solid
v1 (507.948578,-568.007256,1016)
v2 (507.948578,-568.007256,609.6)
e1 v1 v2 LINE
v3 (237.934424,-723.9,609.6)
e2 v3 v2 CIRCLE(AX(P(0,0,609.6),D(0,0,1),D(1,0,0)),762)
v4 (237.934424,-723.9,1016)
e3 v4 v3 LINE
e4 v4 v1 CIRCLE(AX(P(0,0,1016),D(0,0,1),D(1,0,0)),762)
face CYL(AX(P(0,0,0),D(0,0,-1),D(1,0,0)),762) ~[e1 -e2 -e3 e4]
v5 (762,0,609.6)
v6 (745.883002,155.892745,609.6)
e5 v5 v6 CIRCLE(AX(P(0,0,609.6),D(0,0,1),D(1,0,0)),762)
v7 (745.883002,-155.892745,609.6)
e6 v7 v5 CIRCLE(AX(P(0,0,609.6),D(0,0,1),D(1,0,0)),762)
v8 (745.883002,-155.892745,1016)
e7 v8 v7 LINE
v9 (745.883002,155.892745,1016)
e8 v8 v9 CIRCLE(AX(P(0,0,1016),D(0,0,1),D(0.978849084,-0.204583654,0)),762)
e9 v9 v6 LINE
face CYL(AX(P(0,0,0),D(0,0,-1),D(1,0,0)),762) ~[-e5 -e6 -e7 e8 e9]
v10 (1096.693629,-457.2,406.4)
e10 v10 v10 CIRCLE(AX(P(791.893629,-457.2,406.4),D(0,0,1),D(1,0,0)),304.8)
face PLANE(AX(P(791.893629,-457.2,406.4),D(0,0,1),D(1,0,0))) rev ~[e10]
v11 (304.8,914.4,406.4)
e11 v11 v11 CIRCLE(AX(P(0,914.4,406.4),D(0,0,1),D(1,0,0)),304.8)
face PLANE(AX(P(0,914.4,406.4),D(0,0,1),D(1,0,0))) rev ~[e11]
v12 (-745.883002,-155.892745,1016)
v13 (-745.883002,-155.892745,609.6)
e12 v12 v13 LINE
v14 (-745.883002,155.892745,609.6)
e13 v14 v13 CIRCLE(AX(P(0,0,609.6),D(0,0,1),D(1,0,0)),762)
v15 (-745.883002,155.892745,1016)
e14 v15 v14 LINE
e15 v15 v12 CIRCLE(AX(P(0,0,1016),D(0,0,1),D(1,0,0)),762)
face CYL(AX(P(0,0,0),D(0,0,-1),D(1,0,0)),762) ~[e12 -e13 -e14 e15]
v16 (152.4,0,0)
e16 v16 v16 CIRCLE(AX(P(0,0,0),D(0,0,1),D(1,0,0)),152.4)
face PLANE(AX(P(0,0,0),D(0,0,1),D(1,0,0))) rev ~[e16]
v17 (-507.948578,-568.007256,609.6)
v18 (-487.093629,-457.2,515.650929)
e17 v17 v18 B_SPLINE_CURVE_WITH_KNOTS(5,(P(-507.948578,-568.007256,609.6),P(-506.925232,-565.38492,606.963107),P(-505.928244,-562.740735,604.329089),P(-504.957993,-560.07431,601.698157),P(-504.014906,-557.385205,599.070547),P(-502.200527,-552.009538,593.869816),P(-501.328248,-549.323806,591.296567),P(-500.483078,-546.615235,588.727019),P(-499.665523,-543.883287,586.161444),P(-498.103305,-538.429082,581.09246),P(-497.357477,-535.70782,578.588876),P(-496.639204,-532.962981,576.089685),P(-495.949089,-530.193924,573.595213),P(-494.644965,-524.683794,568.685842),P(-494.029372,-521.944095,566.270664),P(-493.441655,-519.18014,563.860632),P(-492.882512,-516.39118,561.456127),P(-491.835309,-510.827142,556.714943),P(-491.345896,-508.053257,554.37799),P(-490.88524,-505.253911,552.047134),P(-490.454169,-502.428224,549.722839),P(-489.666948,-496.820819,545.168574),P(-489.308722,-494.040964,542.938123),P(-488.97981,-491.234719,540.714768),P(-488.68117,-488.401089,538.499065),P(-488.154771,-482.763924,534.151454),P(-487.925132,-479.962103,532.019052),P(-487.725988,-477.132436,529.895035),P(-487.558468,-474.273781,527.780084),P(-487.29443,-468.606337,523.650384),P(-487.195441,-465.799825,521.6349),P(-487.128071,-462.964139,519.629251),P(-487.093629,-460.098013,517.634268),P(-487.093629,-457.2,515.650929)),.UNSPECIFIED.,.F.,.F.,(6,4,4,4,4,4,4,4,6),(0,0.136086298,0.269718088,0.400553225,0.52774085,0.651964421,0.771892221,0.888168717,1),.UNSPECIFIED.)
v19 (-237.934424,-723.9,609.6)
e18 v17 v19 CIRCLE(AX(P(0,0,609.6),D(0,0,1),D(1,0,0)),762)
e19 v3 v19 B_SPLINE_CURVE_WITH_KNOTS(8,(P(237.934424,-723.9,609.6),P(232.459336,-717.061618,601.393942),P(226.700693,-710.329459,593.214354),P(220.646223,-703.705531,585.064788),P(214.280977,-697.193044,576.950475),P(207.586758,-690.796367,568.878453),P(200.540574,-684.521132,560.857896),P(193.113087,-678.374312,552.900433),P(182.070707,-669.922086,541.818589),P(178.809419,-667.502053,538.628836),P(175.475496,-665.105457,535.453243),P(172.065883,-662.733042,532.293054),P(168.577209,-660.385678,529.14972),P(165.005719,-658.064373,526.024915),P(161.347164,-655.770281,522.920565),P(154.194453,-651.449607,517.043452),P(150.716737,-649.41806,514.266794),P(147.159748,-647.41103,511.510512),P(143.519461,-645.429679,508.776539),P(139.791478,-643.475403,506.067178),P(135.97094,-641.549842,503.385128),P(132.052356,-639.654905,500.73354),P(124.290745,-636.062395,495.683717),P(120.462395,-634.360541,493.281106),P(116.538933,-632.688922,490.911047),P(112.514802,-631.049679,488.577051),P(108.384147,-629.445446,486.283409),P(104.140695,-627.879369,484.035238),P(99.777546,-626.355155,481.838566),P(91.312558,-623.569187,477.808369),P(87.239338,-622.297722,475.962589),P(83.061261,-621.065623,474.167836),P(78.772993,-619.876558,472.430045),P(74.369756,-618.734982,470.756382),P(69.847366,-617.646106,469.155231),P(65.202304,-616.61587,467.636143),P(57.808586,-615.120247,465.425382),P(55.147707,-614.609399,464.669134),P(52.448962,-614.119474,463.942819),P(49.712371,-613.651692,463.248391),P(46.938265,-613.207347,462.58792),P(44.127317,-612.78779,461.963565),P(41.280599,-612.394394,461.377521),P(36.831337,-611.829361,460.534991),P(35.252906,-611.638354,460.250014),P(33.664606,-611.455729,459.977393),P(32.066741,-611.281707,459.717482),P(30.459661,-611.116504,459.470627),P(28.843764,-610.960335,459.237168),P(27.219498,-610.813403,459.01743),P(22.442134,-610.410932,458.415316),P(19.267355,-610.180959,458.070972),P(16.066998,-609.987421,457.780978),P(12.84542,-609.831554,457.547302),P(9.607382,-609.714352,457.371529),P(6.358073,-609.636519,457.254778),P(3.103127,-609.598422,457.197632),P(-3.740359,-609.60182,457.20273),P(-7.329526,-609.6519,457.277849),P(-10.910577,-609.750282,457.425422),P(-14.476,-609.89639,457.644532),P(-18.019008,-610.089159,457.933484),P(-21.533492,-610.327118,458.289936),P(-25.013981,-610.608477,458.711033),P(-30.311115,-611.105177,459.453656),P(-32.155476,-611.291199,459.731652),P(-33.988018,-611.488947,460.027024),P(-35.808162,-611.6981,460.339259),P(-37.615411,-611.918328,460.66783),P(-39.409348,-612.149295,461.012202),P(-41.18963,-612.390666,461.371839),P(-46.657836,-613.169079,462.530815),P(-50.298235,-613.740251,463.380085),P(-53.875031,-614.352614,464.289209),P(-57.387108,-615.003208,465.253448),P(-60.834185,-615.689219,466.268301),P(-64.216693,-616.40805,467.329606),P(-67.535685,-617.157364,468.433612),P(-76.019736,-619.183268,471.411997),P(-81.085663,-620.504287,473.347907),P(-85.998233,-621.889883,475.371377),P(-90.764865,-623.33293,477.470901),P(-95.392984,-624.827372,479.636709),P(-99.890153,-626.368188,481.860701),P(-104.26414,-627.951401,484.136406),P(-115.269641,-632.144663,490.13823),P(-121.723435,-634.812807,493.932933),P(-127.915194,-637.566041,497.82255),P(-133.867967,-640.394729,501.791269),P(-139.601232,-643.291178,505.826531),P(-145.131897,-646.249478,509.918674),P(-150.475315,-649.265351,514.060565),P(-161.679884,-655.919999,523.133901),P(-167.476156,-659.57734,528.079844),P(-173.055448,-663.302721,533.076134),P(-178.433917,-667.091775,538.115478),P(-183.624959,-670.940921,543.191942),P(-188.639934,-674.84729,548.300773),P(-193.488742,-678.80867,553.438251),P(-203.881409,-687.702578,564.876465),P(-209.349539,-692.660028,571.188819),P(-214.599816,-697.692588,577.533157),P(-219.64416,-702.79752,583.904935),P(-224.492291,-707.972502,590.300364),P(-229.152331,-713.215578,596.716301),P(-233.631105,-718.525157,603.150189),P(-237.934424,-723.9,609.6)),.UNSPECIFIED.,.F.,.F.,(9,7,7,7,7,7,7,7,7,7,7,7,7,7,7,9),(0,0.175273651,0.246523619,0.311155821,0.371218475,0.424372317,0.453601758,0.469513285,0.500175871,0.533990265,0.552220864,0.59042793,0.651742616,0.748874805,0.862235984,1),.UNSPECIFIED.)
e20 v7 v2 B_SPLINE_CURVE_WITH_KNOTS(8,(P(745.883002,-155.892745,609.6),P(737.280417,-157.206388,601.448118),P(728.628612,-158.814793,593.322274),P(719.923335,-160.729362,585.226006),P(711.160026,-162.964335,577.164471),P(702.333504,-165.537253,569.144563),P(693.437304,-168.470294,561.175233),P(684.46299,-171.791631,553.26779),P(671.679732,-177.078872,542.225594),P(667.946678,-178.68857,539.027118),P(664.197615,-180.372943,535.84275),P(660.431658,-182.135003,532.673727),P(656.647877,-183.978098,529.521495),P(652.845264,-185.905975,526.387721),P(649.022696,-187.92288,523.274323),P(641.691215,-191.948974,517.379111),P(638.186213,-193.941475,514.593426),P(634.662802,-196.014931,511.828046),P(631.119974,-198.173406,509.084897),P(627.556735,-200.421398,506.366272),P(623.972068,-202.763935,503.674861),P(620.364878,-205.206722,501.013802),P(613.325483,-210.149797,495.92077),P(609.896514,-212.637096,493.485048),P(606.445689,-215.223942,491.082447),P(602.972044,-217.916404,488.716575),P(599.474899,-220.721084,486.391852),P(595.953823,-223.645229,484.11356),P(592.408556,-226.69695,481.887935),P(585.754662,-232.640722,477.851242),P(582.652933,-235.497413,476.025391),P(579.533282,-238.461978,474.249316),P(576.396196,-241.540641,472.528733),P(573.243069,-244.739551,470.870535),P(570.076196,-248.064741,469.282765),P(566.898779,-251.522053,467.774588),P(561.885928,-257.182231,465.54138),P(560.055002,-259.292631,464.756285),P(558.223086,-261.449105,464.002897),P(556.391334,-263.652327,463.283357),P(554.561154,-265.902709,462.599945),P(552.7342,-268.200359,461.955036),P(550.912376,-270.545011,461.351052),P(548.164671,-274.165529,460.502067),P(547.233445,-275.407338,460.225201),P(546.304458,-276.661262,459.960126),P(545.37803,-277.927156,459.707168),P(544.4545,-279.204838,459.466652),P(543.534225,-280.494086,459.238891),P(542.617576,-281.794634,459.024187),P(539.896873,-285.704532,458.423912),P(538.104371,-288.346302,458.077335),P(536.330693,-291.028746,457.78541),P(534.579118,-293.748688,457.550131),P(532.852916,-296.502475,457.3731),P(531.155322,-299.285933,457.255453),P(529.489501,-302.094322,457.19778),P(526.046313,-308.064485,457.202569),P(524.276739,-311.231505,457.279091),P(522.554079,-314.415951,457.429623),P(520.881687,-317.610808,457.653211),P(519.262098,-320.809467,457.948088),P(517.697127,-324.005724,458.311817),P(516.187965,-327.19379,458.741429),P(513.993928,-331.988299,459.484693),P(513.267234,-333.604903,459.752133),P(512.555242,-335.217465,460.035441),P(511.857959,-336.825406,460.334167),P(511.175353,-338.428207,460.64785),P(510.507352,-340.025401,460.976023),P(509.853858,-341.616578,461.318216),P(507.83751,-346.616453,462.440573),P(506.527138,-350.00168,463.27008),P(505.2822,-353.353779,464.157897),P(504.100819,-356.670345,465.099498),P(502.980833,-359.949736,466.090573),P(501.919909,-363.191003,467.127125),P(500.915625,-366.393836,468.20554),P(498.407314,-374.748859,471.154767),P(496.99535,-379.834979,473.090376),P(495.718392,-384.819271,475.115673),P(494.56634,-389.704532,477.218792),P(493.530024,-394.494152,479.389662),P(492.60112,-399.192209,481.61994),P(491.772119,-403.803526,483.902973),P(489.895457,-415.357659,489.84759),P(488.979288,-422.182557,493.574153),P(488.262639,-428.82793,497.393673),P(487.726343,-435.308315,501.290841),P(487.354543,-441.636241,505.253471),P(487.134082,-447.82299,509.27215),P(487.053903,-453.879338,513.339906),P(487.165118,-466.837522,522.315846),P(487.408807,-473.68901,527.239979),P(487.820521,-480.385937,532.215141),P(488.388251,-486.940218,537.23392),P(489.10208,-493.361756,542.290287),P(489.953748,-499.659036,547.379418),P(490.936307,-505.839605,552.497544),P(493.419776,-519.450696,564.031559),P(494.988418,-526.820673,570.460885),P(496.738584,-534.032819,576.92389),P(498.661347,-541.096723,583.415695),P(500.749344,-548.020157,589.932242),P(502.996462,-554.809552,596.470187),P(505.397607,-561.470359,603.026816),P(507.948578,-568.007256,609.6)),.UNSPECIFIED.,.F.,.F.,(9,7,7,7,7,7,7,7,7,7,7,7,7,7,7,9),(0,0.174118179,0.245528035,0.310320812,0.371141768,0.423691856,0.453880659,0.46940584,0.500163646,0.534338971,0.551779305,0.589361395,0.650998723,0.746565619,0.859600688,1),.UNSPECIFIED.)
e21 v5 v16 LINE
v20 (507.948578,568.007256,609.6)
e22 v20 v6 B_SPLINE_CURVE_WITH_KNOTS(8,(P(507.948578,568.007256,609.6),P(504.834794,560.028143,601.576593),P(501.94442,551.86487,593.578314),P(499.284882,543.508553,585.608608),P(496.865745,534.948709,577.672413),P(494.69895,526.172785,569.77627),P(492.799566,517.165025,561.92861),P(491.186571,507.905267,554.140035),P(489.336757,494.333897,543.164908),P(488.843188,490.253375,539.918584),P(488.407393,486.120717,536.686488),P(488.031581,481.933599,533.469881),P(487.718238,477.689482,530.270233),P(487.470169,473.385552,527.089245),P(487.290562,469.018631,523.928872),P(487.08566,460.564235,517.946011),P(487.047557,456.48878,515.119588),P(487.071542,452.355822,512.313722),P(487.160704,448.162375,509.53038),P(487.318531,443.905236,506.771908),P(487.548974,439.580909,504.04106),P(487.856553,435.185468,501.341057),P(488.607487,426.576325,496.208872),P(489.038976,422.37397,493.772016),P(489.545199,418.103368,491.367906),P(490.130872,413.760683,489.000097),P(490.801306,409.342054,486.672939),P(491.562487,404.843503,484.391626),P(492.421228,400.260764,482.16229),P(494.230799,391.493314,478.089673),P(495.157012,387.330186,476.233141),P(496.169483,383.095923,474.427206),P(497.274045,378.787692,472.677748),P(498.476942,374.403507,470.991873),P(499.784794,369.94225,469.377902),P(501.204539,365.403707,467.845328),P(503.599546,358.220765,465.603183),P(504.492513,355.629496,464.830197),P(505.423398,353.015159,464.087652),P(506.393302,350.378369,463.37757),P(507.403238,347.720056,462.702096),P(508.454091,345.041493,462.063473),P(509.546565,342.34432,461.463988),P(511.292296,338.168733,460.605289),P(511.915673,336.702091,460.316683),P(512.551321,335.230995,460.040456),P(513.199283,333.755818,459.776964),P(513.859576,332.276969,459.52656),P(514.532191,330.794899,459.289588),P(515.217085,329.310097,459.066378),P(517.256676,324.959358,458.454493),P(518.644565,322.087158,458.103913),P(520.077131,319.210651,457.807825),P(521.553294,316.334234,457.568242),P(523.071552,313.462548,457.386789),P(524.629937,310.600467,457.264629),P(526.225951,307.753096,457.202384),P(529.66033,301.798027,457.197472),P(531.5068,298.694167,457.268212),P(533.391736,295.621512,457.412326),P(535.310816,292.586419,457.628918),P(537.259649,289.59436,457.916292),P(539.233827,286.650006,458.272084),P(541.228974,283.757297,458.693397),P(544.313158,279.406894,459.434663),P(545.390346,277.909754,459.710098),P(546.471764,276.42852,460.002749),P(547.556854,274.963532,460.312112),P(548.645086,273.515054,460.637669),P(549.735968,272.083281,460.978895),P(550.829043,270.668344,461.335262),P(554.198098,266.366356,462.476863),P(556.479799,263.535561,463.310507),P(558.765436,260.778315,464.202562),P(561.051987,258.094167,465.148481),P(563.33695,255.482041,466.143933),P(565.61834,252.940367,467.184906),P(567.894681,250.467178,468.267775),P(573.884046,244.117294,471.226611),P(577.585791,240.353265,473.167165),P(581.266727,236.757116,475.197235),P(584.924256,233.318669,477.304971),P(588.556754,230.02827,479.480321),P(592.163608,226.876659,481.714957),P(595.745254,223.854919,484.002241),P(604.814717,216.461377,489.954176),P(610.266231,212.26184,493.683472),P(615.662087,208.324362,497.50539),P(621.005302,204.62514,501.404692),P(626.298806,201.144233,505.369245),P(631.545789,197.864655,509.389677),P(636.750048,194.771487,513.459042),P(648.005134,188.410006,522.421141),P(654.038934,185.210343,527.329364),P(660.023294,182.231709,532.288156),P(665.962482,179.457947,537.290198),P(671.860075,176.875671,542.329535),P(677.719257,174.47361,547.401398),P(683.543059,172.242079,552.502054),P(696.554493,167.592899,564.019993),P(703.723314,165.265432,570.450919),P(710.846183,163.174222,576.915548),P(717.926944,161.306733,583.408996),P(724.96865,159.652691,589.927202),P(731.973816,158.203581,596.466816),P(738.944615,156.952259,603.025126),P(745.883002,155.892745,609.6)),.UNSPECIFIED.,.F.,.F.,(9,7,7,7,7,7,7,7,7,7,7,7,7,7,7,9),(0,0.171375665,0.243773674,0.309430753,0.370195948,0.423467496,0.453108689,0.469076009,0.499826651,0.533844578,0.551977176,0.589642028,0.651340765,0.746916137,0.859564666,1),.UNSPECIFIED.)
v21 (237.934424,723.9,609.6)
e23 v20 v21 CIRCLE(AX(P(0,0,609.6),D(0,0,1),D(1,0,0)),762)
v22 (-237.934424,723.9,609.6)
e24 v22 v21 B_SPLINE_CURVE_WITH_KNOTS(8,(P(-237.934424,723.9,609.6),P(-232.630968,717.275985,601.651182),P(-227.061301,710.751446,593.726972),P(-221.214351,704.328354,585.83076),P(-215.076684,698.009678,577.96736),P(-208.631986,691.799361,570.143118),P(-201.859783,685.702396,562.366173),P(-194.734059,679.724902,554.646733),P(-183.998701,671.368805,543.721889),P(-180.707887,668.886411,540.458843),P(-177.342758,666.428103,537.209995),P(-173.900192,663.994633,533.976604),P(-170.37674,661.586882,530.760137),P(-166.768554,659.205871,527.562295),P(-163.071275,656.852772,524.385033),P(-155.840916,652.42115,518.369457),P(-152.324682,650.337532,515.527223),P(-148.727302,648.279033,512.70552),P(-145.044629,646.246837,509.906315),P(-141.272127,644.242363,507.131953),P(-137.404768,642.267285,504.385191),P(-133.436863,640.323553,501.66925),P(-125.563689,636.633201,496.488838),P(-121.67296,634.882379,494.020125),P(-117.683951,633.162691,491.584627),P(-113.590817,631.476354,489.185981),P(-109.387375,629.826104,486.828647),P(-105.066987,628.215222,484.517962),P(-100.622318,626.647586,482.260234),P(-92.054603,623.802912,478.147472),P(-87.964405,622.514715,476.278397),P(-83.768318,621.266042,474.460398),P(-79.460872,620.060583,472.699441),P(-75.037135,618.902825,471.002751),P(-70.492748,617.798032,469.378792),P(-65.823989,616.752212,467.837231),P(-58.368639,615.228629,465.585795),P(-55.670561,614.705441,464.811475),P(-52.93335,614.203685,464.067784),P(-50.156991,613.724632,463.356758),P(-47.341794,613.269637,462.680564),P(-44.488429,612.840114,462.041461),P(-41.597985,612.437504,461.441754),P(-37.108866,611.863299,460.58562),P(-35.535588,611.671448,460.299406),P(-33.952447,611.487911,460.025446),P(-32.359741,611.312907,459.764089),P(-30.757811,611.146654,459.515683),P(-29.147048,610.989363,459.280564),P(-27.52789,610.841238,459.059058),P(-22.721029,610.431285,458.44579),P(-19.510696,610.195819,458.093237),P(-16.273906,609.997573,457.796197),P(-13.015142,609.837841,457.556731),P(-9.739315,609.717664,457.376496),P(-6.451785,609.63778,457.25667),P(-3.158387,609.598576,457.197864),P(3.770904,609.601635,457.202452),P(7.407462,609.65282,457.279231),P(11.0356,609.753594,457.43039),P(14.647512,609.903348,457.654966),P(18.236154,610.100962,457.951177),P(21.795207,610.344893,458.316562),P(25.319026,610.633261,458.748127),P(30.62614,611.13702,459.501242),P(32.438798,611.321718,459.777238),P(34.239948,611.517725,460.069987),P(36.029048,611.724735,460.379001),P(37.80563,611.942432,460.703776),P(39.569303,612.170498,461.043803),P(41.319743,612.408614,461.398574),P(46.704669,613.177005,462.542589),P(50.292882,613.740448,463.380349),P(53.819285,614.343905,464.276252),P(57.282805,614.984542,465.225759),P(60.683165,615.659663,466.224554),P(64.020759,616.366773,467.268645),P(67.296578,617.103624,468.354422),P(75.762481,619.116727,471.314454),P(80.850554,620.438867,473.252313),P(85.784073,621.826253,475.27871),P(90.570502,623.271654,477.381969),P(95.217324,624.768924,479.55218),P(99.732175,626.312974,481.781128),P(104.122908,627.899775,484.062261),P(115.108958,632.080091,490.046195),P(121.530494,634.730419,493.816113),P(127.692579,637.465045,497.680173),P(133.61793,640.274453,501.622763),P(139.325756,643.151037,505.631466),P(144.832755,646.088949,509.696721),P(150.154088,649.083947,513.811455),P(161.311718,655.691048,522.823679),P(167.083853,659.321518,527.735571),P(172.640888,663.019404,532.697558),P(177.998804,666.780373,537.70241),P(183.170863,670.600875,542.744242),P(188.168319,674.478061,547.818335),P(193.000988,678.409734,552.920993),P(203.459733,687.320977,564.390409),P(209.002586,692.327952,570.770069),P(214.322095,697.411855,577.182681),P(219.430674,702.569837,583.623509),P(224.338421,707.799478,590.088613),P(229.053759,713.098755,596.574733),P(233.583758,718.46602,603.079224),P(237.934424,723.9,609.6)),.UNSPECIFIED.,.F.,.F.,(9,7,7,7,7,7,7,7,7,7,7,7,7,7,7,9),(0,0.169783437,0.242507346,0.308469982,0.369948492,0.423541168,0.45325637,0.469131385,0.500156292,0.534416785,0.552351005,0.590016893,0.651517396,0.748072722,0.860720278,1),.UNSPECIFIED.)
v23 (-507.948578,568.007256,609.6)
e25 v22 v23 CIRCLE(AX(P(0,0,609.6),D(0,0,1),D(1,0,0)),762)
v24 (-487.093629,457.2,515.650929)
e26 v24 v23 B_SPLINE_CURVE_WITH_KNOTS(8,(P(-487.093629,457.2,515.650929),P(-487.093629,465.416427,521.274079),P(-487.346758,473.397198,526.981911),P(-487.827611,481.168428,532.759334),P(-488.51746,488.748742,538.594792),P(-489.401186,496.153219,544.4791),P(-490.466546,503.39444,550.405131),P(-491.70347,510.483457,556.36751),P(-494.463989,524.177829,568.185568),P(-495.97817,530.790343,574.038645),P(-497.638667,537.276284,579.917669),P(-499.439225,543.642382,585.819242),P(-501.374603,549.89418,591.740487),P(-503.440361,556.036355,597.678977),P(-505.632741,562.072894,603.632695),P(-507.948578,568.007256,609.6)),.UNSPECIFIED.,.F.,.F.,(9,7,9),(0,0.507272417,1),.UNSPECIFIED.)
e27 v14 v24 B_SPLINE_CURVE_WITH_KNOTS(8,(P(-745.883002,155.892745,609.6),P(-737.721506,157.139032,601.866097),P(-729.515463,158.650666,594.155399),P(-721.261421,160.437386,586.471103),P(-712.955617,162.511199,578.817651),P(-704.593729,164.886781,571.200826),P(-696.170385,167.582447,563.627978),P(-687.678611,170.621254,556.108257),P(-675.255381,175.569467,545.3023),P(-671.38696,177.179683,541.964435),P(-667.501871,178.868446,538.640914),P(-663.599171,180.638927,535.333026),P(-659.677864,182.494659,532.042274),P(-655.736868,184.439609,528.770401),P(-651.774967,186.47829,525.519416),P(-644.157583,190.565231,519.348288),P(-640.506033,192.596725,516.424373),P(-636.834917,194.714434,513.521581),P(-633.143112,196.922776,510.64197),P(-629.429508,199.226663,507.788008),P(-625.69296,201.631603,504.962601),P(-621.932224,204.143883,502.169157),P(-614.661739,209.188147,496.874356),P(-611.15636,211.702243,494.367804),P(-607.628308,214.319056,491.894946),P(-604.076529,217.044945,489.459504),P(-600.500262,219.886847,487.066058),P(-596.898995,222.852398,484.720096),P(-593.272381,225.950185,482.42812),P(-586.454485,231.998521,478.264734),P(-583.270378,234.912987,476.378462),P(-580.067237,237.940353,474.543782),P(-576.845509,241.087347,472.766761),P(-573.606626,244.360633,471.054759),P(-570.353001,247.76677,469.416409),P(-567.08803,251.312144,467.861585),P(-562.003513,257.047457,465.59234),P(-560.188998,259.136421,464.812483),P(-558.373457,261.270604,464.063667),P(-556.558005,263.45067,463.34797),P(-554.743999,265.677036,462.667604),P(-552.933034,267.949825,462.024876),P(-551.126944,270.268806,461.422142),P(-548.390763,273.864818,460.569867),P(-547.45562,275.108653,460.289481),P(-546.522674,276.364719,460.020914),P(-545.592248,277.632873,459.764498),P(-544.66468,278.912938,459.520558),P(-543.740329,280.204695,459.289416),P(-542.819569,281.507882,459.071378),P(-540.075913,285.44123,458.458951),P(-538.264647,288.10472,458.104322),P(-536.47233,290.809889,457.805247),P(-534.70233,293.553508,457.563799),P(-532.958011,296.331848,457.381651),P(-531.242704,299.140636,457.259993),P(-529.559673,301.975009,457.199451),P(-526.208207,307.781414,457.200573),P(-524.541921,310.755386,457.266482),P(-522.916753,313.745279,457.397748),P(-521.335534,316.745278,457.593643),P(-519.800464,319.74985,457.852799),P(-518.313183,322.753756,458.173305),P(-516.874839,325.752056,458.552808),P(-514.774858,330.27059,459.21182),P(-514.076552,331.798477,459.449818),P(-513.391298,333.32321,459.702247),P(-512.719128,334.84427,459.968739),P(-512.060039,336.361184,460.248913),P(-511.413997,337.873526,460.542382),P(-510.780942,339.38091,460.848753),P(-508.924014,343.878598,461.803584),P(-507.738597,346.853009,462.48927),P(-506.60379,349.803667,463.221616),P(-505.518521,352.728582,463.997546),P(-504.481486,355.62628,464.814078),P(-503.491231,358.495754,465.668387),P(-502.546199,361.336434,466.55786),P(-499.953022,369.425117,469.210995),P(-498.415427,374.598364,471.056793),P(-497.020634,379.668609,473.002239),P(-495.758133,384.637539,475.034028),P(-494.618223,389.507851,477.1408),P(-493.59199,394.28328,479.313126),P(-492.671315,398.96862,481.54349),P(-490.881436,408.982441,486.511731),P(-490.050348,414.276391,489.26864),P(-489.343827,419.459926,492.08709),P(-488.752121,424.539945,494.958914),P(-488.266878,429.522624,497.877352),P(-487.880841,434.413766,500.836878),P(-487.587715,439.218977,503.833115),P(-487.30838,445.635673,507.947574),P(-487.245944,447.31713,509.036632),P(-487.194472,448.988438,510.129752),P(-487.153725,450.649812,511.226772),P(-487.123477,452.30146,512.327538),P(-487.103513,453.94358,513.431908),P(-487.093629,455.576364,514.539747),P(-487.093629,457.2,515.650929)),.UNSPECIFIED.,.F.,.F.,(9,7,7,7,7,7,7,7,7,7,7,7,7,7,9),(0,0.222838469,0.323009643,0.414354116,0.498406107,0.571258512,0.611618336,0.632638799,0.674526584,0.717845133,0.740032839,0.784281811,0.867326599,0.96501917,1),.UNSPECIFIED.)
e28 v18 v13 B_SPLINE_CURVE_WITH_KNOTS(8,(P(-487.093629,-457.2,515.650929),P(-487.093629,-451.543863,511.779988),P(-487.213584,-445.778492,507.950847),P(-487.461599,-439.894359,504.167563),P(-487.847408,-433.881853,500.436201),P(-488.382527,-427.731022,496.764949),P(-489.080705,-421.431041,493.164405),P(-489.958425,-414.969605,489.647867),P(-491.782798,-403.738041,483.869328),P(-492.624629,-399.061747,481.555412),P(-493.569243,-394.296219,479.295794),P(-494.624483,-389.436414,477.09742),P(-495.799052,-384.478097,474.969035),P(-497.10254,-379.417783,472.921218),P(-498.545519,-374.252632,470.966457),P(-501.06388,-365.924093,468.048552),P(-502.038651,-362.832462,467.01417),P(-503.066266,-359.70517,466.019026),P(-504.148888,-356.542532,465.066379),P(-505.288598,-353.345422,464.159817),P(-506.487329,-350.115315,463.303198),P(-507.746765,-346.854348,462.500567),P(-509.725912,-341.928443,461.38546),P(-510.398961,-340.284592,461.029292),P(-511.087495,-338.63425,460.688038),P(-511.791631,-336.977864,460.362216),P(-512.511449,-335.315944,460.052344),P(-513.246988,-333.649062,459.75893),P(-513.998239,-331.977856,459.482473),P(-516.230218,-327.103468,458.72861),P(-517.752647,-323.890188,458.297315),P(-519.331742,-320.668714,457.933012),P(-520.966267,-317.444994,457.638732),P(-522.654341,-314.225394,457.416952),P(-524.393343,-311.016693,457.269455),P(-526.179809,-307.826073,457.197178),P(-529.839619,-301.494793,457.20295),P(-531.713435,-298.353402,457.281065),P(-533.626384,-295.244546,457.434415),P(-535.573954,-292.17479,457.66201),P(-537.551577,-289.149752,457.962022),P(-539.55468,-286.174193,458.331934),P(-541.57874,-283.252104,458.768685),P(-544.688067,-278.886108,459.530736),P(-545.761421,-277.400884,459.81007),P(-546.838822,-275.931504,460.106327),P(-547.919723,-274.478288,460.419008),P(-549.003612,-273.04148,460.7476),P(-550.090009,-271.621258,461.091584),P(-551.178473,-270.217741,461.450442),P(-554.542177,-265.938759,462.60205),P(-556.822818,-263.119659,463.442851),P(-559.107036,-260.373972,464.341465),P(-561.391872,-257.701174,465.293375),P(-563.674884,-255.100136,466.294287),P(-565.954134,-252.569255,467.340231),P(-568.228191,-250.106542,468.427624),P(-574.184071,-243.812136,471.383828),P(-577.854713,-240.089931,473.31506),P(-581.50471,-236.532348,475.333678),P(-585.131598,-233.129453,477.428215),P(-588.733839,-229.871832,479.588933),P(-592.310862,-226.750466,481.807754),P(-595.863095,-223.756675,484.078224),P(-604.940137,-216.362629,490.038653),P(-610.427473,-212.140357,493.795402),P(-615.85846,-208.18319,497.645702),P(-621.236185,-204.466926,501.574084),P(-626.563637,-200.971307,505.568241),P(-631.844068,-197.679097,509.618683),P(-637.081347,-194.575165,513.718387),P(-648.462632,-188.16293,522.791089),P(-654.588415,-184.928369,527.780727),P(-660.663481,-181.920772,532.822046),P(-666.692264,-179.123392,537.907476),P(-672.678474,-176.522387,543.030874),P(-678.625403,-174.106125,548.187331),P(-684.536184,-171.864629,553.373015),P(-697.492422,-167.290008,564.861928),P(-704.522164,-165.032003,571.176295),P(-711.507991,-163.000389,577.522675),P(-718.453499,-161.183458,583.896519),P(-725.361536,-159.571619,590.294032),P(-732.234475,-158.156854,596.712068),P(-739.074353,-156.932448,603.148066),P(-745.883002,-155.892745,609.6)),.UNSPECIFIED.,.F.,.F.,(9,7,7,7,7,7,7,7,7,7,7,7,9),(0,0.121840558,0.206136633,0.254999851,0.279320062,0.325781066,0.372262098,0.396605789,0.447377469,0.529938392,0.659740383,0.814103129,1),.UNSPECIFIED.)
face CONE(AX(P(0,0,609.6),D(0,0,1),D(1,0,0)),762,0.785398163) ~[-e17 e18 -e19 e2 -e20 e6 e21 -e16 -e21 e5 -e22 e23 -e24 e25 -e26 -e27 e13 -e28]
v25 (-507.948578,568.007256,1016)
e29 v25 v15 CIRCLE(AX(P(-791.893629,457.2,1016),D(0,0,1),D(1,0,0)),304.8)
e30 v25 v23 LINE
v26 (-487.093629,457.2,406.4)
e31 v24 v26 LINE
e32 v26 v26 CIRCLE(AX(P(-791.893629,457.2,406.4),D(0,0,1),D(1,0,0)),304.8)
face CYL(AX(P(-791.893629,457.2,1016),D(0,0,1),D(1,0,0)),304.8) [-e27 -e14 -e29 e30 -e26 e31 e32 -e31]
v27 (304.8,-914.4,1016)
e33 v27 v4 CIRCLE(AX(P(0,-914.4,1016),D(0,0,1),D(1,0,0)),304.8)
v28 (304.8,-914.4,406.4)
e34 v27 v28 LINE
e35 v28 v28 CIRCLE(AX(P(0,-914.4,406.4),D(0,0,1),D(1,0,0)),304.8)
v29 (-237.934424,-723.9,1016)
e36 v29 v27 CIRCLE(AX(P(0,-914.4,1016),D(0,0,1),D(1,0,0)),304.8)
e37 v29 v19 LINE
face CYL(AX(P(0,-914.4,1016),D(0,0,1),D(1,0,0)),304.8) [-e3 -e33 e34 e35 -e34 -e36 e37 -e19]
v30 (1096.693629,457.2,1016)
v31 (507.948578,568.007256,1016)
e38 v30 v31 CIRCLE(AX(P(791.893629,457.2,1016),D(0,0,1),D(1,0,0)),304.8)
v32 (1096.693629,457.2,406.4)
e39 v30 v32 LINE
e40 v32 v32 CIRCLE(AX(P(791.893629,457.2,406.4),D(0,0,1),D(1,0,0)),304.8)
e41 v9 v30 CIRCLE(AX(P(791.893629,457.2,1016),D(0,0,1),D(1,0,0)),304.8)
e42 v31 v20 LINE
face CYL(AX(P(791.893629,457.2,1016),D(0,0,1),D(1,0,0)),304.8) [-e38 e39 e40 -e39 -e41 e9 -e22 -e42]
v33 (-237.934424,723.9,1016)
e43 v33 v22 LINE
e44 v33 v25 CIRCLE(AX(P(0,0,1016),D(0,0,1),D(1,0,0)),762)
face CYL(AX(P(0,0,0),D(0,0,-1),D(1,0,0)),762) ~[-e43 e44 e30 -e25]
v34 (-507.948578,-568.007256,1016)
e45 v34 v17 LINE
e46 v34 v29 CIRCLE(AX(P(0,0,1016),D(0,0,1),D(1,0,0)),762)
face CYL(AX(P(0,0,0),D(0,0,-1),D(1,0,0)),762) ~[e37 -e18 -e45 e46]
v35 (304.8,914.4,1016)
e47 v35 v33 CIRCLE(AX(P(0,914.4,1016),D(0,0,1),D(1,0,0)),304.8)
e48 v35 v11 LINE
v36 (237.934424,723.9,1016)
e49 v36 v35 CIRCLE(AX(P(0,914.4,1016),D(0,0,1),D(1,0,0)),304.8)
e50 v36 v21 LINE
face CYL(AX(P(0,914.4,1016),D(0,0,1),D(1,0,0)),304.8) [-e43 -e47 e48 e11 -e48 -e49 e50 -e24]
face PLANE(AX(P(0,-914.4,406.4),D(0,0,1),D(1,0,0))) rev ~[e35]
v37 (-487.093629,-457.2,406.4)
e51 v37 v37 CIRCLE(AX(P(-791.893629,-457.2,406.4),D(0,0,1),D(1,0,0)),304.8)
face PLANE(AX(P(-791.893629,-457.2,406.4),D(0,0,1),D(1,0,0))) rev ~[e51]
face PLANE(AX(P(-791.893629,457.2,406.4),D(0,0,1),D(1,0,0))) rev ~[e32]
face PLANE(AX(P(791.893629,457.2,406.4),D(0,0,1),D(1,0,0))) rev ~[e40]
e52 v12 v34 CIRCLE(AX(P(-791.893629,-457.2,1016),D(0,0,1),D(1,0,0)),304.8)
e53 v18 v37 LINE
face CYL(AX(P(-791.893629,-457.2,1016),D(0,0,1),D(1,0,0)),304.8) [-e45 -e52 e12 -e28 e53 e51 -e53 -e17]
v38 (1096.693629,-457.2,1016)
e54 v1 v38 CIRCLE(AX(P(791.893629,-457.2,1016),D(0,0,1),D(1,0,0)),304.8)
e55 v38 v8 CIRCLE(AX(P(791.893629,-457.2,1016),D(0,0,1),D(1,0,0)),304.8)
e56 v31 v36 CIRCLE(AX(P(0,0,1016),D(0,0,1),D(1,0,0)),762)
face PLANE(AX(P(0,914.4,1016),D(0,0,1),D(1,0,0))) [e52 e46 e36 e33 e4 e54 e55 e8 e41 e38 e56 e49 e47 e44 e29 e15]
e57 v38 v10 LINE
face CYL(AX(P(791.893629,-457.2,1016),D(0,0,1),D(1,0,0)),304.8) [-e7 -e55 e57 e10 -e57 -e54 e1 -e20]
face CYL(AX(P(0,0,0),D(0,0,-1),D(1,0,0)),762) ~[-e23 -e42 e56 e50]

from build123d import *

# Parameters (mm, degrees)
F0_R     = 762
F1_DEPTH = 1016
F2_SIZE  = 609.6
F3_R     = 304.8
F4_DEPTH = 609.6


with BuildPart() as f1:
    # F0 (on Top) → F1 (new body)
    with BuildSketch(Plane.XY):
        Circle(F0_R)
    extrude(amount=F1_DEPTH)

    # F2
    f2_edges = [f1.edges().sort_by_distance(p)[0] for p in [
        (-762, 0, 0),
    ]]
    chamfer(f2_edges, length=F2_SIZE)

    # F3 (on face) → F4 (join)
    with BuildSketch(Plane.XY.offset(1016)):
        with Locations((0, 914.4)):
            Circle(F3_R)
        with Locations((791.893629, 457.2)):
            Circle(F3_R)
        with Locations((791.893629, -457.2)):
            Circle(F3_R)
        with Locations((0, -914.4)):
            Circle(F3_R)
        with Locations((-791.893629, -457.2)):
            Circle(F3_R)
        with Locations((-791.893629, 457.2)):
            Circle(F3_R)
    extrude(amount=-F4_DEPTH)


solid = f1.part
